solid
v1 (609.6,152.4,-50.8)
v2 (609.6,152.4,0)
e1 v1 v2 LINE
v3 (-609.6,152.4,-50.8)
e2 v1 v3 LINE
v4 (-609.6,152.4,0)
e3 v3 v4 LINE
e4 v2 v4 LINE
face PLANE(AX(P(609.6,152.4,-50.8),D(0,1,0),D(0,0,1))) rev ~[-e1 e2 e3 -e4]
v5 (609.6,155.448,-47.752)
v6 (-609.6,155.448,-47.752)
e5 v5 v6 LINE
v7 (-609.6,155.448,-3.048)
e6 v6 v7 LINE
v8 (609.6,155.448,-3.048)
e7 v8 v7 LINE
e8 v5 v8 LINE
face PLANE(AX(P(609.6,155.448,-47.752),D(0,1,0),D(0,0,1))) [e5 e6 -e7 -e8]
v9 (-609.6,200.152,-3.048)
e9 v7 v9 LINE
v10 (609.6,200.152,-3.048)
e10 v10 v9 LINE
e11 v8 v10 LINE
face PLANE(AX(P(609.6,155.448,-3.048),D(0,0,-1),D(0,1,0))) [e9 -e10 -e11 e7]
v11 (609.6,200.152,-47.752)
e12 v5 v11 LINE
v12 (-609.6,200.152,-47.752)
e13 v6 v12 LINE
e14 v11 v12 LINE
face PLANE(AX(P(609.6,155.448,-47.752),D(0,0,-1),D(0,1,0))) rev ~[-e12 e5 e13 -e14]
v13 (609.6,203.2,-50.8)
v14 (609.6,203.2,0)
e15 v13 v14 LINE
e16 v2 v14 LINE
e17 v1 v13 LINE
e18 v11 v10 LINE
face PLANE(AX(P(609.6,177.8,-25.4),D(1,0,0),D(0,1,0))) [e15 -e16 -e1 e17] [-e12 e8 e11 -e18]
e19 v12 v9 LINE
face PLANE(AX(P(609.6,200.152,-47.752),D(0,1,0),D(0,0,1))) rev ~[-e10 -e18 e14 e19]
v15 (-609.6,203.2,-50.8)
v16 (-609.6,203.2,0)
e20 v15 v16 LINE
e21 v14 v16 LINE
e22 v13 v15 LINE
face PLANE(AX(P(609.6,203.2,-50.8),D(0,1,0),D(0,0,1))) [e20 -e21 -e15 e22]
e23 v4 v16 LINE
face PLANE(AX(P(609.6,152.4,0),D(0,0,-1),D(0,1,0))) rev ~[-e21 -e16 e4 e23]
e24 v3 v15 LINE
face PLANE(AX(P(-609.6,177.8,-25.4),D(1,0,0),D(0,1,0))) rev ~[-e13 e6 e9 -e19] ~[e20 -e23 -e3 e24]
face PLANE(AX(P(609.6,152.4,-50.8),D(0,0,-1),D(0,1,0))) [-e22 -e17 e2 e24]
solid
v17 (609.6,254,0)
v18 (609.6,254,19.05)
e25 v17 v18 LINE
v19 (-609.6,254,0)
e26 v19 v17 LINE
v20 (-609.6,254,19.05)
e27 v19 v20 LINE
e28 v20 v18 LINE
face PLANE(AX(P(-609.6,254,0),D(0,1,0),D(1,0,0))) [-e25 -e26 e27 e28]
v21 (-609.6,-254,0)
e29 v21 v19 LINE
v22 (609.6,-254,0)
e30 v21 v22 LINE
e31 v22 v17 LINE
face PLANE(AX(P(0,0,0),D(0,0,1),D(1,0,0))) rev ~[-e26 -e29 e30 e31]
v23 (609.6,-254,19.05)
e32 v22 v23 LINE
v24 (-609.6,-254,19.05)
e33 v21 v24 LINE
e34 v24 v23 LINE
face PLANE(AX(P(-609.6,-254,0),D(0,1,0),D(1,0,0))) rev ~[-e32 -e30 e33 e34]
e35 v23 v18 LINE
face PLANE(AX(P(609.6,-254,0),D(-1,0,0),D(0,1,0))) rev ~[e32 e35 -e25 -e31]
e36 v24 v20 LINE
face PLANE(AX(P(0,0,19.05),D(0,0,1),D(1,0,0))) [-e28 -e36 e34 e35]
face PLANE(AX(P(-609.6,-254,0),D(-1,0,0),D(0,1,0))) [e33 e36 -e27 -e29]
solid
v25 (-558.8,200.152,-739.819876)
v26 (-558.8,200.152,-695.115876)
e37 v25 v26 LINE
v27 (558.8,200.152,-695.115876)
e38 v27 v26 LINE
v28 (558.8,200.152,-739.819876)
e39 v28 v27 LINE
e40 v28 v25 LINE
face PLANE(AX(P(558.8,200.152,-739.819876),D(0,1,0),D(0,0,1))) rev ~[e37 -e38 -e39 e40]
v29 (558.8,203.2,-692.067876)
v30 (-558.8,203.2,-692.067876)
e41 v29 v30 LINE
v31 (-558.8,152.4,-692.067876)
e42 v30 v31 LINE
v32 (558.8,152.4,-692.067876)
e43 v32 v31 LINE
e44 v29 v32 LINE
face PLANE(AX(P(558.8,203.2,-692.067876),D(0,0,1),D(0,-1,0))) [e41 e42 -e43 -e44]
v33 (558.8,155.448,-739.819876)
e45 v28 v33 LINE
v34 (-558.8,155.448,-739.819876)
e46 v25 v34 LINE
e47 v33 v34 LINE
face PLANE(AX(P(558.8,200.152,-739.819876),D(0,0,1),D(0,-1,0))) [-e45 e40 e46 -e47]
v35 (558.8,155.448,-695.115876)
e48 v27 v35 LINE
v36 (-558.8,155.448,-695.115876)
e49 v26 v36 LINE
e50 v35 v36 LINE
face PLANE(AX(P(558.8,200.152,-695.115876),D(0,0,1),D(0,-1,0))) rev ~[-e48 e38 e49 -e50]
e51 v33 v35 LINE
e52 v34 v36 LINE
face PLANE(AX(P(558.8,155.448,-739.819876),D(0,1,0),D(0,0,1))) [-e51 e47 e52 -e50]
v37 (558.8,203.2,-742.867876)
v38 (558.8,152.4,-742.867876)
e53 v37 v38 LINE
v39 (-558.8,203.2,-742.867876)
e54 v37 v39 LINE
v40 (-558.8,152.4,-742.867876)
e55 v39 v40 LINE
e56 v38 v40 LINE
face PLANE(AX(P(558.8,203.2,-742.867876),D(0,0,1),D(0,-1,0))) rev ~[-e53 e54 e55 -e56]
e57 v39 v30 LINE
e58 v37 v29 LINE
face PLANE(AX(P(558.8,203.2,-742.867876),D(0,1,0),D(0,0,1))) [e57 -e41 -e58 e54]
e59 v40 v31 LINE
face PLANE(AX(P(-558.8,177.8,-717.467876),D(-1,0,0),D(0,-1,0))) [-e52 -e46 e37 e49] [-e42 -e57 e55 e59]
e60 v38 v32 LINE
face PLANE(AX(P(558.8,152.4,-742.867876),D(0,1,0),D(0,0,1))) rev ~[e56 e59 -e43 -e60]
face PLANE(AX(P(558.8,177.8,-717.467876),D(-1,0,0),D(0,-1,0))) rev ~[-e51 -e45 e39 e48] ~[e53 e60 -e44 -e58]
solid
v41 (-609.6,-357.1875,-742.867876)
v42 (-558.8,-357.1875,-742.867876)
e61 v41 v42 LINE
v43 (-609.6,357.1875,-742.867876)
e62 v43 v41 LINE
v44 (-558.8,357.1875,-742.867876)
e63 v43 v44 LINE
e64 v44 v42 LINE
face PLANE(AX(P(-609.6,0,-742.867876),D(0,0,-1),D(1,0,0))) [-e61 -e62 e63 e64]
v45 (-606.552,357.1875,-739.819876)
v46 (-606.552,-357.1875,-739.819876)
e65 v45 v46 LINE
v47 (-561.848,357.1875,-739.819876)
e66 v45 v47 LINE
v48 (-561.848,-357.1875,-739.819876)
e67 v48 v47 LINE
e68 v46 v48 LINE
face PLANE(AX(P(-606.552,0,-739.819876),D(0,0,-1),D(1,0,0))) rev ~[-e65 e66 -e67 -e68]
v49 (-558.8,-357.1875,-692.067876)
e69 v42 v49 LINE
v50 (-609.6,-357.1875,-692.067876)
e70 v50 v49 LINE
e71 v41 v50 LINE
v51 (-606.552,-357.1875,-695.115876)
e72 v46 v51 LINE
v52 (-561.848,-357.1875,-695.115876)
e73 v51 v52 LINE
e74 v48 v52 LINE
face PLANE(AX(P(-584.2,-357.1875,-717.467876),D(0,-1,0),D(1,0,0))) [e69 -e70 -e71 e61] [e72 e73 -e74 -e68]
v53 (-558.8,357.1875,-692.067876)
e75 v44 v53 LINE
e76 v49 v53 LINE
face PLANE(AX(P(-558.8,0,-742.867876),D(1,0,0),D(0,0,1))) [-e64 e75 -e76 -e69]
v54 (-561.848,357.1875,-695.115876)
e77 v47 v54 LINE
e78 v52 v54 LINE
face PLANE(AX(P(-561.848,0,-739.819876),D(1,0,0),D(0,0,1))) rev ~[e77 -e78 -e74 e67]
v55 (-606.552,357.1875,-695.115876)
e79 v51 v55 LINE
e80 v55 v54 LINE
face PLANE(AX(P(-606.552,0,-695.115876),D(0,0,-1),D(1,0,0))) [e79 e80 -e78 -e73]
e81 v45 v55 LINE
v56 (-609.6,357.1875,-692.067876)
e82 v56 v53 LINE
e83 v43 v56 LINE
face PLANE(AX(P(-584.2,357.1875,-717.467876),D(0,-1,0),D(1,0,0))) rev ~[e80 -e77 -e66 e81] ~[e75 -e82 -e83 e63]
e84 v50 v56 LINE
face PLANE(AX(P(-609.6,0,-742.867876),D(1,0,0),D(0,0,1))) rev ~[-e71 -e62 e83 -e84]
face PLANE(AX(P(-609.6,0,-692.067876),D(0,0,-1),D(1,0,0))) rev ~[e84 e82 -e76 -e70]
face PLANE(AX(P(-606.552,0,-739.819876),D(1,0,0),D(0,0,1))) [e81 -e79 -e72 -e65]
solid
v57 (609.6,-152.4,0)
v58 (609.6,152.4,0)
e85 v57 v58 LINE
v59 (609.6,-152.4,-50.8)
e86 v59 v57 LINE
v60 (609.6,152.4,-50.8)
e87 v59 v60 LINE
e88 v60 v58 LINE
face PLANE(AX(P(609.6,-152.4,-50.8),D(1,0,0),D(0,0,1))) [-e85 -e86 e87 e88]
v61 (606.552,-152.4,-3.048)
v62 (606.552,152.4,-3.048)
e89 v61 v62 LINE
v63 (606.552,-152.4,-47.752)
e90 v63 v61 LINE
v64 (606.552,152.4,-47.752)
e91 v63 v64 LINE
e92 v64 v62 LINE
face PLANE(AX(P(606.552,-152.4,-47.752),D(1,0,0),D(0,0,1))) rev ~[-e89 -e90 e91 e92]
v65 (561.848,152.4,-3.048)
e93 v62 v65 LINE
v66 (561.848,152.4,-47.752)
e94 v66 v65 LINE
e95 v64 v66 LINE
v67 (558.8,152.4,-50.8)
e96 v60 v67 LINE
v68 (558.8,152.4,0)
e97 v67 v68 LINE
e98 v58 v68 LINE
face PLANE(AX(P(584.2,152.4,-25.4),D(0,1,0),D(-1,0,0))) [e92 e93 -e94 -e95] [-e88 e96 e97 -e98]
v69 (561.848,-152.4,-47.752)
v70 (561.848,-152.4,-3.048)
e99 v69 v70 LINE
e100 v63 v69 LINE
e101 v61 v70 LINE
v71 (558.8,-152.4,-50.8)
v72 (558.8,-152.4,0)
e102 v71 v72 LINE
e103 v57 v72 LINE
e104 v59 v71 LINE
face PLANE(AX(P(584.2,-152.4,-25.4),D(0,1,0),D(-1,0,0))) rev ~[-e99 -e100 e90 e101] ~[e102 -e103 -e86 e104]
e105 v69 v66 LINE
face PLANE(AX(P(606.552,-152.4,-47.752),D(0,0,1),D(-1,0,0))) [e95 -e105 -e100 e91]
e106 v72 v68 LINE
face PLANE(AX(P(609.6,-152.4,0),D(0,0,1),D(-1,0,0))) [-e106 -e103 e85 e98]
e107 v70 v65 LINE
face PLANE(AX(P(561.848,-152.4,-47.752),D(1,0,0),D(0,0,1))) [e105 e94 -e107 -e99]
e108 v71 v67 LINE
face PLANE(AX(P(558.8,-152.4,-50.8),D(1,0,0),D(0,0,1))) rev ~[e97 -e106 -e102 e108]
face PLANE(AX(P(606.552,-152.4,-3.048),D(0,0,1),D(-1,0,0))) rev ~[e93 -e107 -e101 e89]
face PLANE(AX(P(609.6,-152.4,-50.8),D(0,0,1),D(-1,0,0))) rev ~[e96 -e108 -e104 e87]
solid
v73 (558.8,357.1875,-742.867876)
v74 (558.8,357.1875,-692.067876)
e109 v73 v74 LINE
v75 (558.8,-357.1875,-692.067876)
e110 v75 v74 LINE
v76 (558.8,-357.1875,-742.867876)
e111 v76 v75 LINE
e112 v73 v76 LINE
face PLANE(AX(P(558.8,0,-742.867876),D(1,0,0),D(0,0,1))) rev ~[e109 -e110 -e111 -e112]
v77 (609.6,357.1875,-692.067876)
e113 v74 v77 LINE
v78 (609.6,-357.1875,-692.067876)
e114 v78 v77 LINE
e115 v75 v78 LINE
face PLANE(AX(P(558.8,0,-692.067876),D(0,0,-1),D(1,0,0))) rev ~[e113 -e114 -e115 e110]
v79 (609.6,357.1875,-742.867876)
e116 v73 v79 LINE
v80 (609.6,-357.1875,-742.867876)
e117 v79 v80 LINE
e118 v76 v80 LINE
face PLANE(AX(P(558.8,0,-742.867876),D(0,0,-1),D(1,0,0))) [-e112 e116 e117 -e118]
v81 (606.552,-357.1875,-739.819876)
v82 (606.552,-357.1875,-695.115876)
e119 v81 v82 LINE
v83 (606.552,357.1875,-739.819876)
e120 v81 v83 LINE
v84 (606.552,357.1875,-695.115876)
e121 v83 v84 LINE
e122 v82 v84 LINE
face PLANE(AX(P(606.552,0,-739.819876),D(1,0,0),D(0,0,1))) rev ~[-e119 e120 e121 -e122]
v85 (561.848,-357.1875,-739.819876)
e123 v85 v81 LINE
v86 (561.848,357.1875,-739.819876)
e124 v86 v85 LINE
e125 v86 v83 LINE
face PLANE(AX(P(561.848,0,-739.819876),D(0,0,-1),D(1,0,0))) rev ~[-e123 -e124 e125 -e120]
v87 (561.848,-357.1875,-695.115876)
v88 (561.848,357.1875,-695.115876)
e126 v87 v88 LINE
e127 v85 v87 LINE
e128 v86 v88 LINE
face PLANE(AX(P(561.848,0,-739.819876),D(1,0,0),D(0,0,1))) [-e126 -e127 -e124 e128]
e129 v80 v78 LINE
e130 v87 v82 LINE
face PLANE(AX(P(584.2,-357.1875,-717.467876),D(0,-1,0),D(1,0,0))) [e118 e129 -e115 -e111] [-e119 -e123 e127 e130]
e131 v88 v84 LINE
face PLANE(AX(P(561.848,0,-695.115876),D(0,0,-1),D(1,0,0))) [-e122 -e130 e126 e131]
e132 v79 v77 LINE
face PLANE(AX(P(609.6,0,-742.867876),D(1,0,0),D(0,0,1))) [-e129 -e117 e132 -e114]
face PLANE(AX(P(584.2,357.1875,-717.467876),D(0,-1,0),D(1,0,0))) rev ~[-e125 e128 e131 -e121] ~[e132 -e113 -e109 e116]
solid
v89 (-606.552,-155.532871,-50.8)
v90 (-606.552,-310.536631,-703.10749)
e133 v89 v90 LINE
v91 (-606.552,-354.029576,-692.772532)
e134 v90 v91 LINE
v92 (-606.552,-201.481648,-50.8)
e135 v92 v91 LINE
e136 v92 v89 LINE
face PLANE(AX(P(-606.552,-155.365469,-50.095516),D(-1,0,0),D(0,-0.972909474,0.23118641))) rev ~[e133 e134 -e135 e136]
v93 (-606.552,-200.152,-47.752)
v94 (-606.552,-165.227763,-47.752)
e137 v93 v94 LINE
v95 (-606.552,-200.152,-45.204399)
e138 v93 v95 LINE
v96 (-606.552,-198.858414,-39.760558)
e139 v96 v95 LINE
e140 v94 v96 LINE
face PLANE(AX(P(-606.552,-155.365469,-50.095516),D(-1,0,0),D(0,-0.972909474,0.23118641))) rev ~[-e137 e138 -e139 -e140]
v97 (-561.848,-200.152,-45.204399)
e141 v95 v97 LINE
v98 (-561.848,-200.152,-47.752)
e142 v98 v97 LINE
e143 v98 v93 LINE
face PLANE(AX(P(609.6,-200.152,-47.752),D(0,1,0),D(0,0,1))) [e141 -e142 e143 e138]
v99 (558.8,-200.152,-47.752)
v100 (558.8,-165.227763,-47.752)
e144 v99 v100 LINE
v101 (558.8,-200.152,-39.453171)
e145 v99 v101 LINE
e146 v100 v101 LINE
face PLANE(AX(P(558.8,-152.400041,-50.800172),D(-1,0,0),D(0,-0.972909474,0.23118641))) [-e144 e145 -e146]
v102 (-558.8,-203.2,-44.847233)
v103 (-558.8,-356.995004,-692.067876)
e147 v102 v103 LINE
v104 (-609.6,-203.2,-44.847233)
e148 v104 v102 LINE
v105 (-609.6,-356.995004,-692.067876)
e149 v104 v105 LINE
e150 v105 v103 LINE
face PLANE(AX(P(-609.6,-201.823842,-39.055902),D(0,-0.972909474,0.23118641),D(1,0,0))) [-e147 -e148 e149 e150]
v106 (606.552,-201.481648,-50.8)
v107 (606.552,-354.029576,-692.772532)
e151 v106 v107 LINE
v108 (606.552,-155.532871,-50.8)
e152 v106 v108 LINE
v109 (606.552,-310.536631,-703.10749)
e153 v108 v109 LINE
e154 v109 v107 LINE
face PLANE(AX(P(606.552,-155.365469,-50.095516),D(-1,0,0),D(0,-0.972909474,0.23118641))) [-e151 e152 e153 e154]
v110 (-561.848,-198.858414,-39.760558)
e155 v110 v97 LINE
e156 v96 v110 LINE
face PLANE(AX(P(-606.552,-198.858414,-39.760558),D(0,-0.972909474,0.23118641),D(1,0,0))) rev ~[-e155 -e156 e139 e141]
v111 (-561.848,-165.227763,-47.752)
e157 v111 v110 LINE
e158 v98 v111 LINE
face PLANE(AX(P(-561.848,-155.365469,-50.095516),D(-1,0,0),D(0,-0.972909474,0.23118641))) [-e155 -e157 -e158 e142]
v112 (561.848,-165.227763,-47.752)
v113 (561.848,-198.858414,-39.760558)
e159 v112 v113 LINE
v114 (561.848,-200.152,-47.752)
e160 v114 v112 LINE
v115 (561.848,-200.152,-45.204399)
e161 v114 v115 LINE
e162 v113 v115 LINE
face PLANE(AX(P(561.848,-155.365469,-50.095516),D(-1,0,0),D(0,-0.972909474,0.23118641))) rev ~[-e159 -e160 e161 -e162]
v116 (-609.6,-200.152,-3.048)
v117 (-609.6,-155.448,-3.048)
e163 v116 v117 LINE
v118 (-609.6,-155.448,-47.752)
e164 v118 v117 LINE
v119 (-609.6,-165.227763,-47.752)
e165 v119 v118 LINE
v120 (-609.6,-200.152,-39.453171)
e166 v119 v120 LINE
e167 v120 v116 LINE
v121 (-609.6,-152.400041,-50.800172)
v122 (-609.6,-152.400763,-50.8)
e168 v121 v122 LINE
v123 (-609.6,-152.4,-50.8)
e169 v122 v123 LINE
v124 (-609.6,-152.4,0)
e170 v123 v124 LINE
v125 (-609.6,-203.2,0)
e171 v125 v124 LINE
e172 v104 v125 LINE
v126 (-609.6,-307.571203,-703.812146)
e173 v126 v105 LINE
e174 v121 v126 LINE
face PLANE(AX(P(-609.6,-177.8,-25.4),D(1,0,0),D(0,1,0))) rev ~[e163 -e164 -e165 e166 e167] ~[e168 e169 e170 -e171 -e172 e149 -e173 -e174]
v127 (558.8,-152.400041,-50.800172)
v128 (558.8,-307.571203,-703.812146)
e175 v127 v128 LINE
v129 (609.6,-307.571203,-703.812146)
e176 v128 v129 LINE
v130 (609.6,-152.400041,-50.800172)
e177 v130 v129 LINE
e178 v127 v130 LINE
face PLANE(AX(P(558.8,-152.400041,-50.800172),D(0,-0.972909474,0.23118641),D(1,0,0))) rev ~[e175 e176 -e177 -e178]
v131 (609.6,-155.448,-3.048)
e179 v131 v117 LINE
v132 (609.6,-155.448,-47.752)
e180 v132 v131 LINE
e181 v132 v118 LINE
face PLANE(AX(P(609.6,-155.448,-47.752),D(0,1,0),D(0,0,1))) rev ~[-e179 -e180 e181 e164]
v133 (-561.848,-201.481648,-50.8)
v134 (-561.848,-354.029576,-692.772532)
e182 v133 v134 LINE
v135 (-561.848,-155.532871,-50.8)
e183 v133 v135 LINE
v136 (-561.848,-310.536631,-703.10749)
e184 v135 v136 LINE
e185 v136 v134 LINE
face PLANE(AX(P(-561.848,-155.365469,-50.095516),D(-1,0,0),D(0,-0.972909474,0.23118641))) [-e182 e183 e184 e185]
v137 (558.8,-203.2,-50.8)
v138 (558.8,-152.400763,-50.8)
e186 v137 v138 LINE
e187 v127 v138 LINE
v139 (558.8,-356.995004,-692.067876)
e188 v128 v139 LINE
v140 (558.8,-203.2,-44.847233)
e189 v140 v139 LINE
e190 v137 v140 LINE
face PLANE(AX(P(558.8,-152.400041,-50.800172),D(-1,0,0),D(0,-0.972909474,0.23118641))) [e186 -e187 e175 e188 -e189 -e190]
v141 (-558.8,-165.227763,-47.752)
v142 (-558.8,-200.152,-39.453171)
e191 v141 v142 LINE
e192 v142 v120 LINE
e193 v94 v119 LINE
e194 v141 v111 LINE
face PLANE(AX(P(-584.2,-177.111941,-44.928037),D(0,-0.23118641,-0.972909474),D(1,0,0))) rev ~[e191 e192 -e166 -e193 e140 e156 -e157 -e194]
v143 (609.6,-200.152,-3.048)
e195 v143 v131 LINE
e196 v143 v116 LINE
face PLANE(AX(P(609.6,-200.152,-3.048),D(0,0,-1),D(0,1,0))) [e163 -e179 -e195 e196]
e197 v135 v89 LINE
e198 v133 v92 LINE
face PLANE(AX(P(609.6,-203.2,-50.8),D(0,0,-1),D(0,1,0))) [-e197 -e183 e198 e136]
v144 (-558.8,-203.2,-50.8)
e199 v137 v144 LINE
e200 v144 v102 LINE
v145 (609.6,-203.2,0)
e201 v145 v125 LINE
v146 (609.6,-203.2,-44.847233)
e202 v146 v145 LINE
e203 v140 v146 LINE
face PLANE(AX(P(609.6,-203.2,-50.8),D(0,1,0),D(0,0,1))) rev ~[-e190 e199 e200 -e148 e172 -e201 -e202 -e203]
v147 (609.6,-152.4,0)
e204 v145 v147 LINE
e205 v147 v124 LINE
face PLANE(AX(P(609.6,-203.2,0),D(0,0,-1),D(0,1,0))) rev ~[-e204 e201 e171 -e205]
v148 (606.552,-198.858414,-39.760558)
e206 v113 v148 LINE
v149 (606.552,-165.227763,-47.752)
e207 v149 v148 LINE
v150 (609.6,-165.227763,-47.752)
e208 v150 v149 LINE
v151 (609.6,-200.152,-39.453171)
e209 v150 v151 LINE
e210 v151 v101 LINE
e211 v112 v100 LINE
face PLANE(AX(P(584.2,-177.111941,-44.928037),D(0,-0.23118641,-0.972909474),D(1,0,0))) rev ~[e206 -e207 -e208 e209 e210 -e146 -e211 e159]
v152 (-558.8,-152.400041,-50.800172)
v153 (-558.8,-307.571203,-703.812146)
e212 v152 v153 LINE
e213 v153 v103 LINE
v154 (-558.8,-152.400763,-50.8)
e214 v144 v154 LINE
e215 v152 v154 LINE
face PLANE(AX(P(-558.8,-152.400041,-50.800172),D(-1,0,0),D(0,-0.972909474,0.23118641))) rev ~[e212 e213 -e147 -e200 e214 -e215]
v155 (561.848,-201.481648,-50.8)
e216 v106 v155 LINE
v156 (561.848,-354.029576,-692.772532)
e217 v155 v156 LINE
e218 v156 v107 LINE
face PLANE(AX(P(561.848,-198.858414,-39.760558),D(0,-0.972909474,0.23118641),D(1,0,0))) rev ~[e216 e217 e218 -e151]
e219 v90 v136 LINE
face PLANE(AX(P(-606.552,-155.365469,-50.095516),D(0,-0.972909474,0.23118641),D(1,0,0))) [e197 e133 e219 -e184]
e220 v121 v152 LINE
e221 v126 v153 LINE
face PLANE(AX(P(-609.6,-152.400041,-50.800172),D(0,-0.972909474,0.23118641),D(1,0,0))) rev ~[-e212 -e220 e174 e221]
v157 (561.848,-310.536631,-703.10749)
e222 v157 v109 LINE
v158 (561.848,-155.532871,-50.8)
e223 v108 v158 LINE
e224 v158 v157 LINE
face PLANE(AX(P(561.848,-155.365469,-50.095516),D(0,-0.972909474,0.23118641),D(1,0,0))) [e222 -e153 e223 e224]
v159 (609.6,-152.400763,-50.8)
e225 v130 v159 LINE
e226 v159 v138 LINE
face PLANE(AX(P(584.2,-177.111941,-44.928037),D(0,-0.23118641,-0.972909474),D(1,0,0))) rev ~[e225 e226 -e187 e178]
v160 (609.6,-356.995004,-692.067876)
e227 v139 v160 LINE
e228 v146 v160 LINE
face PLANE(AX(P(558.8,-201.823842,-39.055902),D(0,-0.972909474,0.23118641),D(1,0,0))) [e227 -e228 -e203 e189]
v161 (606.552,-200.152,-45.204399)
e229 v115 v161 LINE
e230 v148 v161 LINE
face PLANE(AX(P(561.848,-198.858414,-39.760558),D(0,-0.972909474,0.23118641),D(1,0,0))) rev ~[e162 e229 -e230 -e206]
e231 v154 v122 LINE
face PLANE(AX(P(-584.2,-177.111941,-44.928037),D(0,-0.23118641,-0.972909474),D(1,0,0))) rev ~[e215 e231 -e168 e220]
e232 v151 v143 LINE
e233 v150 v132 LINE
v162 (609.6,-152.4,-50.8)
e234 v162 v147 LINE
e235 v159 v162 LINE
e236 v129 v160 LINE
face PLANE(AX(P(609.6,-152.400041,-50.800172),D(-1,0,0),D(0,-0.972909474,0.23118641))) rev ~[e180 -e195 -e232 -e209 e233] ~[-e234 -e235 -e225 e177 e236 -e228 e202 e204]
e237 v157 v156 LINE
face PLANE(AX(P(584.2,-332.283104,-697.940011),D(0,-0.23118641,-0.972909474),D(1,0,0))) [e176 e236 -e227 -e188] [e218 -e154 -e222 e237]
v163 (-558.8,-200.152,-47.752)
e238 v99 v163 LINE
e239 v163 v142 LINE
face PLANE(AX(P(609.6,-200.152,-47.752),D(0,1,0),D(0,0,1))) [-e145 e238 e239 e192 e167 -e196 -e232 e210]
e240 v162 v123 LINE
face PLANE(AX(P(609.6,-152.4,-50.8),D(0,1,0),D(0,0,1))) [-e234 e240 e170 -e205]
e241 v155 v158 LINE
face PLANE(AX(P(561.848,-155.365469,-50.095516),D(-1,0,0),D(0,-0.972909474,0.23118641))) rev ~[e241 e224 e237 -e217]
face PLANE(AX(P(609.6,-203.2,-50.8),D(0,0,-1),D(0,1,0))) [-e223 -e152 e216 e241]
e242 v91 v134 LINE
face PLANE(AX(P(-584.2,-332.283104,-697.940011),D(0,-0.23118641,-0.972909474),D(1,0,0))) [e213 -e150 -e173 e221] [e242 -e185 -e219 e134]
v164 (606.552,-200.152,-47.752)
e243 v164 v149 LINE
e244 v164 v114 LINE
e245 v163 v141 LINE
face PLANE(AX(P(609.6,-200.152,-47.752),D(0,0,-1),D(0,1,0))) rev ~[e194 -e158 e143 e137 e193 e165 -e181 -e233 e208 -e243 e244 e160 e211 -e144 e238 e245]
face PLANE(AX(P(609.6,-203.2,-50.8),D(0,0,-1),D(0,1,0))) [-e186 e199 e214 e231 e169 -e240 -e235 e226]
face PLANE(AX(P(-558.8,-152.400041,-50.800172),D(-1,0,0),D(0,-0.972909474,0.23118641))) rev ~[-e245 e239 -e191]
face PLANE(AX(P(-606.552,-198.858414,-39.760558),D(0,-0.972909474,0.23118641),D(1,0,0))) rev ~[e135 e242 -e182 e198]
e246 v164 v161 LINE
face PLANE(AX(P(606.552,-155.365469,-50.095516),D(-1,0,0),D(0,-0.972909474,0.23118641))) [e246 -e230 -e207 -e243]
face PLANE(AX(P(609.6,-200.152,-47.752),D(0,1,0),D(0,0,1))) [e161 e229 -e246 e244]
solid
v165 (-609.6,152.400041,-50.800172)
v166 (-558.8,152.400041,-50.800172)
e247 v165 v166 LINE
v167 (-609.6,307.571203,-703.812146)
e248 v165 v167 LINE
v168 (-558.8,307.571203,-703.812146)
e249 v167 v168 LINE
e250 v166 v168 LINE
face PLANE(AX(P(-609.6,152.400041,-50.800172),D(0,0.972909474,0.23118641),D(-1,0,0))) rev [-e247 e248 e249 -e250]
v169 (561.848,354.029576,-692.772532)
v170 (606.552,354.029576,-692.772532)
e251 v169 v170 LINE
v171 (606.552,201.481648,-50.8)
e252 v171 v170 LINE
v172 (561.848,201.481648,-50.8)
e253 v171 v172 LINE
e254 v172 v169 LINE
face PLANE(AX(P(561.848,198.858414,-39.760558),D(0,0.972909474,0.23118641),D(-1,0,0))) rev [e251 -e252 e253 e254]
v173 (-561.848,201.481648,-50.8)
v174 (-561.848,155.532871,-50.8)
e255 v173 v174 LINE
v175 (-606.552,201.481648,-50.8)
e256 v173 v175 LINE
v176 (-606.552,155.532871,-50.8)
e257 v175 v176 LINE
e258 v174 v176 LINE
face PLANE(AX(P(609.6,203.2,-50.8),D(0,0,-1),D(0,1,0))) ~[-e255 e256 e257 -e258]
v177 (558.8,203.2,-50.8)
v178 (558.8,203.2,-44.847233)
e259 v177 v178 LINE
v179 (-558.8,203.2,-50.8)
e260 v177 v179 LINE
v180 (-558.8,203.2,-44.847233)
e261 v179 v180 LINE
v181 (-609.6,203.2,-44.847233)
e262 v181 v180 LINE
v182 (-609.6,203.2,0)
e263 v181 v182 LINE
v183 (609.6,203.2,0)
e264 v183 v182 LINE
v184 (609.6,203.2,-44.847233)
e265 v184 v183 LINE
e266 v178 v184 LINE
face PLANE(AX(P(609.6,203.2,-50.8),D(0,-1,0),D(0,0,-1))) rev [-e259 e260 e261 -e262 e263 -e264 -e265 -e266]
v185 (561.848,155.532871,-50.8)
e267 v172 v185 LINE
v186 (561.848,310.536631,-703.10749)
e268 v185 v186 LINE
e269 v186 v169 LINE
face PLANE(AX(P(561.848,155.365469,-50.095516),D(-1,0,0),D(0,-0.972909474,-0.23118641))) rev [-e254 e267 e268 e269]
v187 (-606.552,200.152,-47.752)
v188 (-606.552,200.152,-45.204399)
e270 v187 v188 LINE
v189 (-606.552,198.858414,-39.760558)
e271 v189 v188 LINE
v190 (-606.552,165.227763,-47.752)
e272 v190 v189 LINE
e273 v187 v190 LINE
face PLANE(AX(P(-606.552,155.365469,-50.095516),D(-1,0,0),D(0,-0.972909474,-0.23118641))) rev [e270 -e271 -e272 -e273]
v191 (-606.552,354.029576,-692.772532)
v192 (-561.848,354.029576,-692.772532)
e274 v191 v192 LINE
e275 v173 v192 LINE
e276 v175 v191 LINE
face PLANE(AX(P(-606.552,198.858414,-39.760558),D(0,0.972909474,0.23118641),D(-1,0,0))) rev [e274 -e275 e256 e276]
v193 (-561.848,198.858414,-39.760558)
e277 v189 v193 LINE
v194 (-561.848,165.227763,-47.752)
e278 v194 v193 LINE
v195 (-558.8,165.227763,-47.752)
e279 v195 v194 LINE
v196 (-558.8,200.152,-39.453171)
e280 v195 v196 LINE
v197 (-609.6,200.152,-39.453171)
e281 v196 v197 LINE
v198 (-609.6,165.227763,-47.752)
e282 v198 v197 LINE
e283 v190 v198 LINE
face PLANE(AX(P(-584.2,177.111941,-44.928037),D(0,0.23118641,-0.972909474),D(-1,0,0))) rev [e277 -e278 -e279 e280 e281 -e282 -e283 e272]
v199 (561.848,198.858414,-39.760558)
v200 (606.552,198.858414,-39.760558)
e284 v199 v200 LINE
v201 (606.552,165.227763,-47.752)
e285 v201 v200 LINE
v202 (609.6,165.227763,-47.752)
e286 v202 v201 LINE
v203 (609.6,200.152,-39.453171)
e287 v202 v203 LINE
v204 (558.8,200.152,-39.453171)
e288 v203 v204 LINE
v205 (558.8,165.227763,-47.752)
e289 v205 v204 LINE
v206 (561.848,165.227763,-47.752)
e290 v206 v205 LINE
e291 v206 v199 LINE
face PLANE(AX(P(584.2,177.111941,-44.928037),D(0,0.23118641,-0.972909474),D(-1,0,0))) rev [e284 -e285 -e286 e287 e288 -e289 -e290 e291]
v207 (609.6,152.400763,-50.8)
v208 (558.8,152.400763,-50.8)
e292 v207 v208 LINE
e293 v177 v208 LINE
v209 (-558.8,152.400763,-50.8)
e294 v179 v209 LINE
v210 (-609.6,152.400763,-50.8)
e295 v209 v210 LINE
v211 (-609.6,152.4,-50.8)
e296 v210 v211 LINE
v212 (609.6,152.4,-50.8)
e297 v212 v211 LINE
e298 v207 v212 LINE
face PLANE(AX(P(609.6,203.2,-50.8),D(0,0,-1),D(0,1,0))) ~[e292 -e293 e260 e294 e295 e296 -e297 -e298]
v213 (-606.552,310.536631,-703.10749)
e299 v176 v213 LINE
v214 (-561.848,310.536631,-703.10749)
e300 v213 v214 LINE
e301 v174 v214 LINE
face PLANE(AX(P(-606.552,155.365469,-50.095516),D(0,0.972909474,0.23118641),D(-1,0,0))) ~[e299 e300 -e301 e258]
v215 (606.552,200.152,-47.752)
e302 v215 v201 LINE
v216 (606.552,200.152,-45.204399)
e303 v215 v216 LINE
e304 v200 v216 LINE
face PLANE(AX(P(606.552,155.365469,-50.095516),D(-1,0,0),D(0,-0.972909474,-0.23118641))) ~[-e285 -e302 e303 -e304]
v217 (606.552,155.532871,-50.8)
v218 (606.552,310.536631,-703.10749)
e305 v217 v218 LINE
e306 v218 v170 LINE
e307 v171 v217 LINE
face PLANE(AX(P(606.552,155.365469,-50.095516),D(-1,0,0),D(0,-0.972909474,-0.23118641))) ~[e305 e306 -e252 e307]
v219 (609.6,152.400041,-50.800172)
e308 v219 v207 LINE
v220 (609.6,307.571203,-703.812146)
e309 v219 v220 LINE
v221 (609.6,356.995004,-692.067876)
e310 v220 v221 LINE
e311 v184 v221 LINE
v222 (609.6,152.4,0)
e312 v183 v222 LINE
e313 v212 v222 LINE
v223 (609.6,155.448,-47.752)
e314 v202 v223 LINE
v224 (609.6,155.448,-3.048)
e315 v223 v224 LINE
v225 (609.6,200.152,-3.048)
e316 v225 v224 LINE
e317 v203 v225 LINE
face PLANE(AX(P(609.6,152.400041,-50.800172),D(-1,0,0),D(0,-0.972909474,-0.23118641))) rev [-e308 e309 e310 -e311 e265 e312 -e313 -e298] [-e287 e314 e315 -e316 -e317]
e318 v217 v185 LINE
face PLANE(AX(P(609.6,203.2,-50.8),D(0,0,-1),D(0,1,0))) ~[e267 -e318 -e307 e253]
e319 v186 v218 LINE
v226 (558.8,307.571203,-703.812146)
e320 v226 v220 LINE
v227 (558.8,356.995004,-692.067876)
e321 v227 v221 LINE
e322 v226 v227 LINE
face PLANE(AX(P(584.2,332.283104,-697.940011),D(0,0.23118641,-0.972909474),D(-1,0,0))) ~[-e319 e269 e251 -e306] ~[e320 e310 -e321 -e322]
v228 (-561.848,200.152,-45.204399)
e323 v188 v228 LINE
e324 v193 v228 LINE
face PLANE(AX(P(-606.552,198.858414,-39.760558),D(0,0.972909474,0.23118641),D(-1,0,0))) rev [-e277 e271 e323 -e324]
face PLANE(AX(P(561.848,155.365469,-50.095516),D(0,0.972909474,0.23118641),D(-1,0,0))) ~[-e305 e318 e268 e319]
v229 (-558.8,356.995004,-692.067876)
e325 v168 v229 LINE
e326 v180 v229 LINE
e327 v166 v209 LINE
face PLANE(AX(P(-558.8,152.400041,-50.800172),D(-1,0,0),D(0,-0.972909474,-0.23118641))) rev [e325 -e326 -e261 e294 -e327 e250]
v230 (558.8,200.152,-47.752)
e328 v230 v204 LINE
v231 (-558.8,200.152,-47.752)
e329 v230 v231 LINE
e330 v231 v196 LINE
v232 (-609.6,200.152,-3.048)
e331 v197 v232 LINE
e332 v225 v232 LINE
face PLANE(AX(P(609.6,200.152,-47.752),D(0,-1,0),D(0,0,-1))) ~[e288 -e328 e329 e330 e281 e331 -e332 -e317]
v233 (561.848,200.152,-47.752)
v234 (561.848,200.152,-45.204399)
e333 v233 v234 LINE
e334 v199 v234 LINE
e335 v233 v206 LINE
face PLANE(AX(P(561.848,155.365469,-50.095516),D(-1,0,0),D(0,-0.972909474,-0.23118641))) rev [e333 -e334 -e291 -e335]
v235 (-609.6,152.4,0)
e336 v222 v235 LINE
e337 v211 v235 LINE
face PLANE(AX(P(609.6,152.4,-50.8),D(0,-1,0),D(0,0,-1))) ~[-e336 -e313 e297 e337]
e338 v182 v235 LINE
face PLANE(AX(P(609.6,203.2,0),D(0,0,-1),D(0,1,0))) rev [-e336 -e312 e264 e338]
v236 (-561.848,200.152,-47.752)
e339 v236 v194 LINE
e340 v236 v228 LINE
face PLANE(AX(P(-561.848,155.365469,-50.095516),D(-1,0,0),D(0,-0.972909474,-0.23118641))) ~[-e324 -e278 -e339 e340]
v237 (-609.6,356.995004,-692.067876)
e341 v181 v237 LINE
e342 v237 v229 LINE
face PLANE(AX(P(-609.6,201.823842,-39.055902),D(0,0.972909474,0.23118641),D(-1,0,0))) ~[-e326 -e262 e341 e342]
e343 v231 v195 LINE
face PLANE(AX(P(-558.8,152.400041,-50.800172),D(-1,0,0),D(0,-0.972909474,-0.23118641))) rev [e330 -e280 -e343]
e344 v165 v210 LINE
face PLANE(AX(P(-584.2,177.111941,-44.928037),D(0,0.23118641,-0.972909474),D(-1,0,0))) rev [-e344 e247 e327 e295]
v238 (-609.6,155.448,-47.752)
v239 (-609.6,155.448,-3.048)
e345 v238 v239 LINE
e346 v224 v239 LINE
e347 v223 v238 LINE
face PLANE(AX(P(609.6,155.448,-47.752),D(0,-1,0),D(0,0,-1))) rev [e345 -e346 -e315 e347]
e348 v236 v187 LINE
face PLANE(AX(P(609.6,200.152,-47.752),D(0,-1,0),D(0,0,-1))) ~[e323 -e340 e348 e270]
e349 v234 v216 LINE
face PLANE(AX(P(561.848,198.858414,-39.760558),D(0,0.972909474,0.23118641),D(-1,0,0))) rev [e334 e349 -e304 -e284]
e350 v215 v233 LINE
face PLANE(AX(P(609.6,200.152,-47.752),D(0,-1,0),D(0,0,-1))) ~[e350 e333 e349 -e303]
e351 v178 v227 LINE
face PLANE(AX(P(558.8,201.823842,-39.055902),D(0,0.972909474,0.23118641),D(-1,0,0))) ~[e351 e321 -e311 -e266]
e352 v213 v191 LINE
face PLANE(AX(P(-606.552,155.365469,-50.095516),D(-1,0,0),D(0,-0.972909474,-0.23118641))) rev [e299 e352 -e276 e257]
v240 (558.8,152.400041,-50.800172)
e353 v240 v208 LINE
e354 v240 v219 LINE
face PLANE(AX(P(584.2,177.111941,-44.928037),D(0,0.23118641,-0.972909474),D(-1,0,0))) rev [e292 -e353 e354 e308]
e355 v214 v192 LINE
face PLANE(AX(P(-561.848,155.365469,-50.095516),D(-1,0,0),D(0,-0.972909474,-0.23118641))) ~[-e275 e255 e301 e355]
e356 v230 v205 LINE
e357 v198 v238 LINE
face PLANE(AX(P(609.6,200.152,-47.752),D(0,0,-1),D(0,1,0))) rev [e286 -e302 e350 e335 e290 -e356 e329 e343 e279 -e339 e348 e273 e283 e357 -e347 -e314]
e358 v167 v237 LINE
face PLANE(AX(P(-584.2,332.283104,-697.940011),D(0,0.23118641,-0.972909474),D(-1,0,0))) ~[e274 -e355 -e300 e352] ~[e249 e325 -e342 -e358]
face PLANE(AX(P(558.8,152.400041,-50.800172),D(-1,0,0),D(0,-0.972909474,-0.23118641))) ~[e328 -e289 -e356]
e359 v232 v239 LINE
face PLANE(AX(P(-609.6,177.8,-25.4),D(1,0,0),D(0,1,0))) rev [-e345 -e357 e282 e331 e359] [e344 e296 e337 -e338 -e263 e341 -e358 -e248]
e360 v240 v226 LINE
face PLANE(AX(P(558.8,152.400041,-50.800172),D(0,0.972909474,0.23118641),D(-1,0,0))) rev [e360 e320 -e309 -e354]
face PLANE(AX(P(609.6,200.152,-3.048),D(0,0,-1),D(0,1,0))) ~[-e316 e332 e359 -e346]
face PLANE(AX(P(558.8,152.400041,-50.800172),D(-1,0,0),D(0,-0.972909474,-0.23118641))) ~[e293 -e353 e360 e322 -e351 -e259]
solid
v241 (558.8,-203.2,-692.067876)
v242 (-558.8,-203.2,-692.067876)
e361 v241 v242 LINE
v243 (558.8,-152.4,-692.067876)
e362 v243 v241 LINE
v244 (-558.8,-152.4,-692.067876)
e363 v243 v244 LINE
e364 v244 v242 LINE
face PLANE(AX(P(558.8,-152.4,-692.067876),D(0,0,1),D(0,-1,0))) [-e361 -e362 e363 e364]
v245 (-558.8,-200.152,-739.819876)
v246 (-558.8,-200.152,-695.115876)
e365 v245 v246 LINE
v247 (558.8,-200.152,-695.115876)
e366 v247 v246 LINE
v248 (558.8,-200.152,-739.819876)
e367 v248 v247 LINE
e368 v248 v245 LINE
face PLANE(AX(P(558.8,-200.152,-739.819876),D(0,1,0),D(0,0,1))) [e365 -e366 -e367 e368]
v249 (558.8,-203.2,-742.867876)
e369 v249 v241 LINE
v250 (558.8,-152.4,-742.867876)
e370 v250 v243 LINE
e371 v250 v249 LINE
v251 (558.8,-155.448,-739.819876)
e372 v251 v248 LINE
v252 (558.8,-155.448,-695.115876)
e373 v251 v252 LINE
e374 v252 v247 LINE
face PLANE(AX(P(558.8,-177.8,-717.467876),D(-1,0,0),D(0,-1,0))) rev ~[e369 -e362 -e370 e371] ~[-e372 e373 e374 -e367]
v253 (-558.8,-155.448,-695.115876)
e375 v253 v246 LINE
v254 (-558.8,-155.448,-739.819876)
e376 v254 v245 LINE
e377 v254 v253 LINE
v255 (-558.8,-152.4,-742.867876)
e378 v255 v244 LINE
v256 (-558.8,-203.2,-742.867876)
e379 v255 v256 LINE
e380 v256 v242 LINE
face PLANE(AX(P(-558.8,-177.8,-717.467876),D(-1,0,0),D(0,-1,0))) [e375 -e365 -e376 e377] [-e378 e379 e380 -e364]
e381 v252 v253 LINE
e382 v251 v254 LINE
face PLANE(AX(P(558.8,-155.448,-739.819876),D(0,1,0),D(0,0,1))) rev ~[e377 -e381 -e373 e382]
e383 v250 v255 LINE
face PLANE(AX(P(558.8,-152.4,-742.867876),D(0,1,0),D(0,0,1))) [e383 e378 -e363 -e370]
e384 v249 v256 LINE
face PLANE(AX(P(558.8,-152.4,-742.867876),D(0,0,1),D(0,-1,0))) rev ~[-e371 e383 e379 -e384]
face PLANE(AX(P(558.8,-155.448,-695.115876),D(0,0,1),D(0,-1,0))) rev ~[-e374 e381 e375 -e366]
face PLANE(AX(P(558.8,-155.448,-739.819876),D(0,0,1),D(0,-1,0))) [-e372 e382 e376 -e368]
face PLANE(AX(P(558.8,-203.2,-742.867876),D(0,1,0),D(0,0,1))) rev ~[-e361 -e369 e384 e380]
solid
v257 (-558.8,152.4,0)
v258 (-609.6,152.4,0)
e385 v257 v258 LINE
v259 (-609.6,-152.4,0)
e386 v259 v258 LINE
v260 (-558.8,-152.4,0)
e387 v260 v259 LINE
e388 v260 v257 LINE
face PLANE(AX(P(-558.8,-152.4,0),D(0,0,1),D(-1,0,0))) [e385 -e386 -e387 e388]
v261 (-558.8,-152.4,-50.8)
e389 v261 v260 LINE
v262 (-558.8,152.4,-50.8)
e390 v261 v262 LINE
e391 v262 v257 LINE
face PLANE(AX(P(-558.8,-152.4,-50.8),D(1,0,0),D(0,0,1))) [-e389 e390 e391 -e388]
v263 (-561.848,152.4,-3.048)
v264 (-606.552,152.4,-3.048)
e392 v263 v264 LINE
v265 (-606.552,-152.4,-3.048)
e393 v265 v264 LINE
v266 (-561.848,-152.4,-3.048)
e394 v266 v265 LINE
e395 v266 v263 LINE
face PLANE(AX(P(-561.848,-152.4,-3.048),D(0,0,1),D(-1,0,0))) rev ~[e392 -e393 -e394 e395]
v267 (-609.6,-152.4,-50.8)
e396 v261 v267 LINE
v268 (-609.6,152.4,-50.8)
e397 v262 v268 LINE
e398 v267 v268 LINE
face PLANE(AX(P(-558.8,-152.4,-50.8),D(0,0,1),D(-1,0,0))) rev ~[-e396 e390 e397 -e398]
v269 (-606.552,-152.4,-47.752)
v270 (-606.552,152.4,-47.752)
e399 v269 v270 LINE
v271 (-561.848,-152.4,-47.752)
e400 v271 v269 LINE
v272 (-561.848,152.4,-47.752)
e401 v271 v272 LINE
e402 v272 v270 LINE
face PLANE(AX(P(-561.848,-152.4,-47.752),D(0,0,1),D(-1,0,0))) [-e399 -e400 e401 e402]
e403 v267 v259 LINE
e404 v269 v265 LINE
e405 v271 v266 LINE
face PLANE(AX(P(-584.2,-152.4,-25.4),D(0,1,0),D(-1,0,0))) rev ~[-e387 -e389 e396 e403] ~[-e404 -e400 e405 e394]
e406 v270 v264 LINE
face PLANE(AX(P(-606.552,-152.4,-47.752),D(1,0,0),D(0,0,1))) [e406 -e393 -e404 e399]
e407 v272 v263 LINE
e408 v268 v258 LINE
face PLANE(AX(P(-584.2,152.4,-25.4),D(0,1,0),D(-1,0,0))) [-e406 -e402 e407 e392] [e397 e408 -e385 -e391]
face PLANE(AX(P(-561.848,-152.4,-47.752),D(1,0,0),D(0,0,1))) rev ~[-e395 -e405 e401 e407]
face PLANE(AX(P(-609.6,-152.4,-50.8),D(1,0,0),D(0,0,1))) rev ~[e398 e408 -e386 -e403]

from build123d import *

# Parameters (mm, degrees)
F0_W      = 1219.2
F0_H      = 508
F1_DEPTH  = 19.05
F2_W      = 50.8
F2_H      = 50.8
F2_W_2    = 44.704
F2_H_2    = 44.704
F3_DEPTH  = 1219.2
F4_W      = 50.8
F4_H      = 50.8
F4_W_2    = 44.704
F4_H_2    = 44.704
F5_DEPTH  = 304.8
F9_W      = 50.8
F9_H      = 50.8
F9_W_2    = 44.704
F9_H_2    = 44.704
F10_DEPTH = 671.195
F12_W     = 50.8
F12_H     = 50.8
F12_W_2   = 44.704
F12_H_2   = 44.704
F13_DEPTH = 357.1875
F14_W     = 50.8
F14_H     = 50.8
F14_W_2   = 44.704
F14_H_2   = 44.704
F15_DEPTH = 1117.6


with BuildPart() as f1:
    # F0 (on Top) → F1 (new body)
    with BuildSketch(Plane.XY):
        Rectangle(F0_W, F0_H)
    extrude(amount=F1_DEPTH)


with BuildPart() as f3:
    # F2 (on face) → F3 (new body)
    with BuildSketch(Plane.YZ.offset(609.6)):
        with Locations((177.8, -25.4)):
            Rectangle(F2_W, F2_H)
        with Locations((177.8, -25.4)):
            Rectangle(F2_W_2, F2_H_2, mode=Mode.SUBTRACT)
    extrude(amount=-F3_DEPTH)


with BuildPart() as f3b:
    # F2 (on face) → F3, piece 2 (new body)
    with BuildSketch(Plane.YZ.offset(609.6)):
        with Locations((-177.8, -25.4)):
            Rectangle(F2_W, F2_H)
        with Locations((-177.8, -25.4)):
            Rectangle(F2_W_2, F2_H_2, mode=Mode.SUBTRACT)
    extrude(amount=-F3_DEPTH)

    # F9 (on offset) → F10 (join)
    with BuildSketch(Plane(origin=(0, -19.571498534, -82.3633896637), x_dir=(1, 0, 0), z_dir=(0, -0.2311864096, -0.9729094737))):
        with Locations((584.2, 161.9271341849)):
            Rectangle(F9_W, F9_H)
        with Locations((584.2, 161.9271341849)):
            Rectangle(F9_W_2, F9_H_2, mode=Mode.SUBTRACT)
        with Locations((-584.2, 161.9271341849)):
            Rectangle(F9_W, F9_H)
        with Locations((-584.2, 161.9271341849)):
            Rectangle(F9_W_2, F9_H_2, mode=Mode.SUBTRACT)
    extrude(amount=F10_DEPTH)


with BuildPart() as f5:
    # F4 (on face) → F5 (new body)
    with BuildSketch(Plane(origin=(0, -152.4, 0), x_dir=(-1, 0, 0), z_dir=(0, 1, 0))):
        with Locations((-584.2, -25.4)):
            Rectangle(F4_W, F4_H)
        with Locations((-584.2, -25.4)):
            Rectangle(F4_W_2, F4_H_2, mode=Mode.SUBTRACT)
    extrude(amount=F5_DEPTH)


with BuildPart() as f5b:
    # F4 (on face) → F5, piece 2 (new body)
    with BuildSketch(Plane(origin=(0, -152.4, 0), x_dir=(-1, 0, 0), z_dir=(0, 1, 0))):
        with Locations((584.2, -25.4)):
            Rectangle(F4_W, F4_H)
        with Locations((584.2, -25.4)):
            Rectangle(F4_W_2, F4_H_2, mode=Mode.SUBTRACT)
    extrude(amount=F5_DEPTH)


with BuildPart() as f11_1:
    # F11: instance of F3b
    add(f3b.part.mirror(Plane.XZ))


with BuildPart() as f13:
    # F12 (on Front) → F13 (new body, symmetric)
    with BuildSketch(Plane.XZ):
        with Locations((584.2, -717.4678762938)):
            Rectangle(F12_W, F12_H)
        with Locations((584.2, -717.4678762938)):
            Rectangle(F12_W_2, F12_H_2, mode=Mode.SUBTRACT)
    extrude(amount=F13_DEPTH, both=True)


with BuildPart() as f13b:
    # F12 (on Front) → F13, piece 2 (new body, symmetric)
    with BuildSketch(Plane.XZ):
        with Locations((-584.2, -717.4678762938)):
            Rectangle(F12_W, F12_H)
        with Locations((-584.2, -717.4678762938)):
            Rectangle(F12_W_2, F12_H_2, mode=Mode.SUBTRACT)
    extrude(amount=F13_DEPTH, both=True)


with BuildPart() as f15:
    # F14 (on face) → F15 (new body)
    with BuildSketch(Plane(origin=(558.8, 0, 0), x_dir=(0, -1, 0), z_dir=(-1, 0, 0))):
        with Locations((-177.8, -717.4678762938)):
            Rectangle(F14_W, F14_H)
        with Locations((-177.8, -717.4678762938)):
            Rectangle(F14_W_2, F14_H_2, mode=Mode.SUBTRACT)
    extrude(amount=F15_DEPTH)


with BuildPart() as f15b:
    # F14 (on face) → F15, piece 2 (new body)
    with BuildSketch(Plane(origin=(558.8, 0, 0), x_dir=(0, -1, 0), z_dir=(-1, 0, 0))):
        with Locations((177.8, -717.4678762938)):
            Rectangle(F14_W, F14_H)
        with Locations((177.8, -717.4678762938)):
            Rectangle(F14_W_2, F14_H_2, mode=Mode.SUBTRACT)
    extrude(amount=F15_DEPTH)


solid = Compound([f1.part, f3.part, f3b.part, f5.part, f5b.part, f11_1.part, f13.part, f13b.part, f15.part, f15b.part])
